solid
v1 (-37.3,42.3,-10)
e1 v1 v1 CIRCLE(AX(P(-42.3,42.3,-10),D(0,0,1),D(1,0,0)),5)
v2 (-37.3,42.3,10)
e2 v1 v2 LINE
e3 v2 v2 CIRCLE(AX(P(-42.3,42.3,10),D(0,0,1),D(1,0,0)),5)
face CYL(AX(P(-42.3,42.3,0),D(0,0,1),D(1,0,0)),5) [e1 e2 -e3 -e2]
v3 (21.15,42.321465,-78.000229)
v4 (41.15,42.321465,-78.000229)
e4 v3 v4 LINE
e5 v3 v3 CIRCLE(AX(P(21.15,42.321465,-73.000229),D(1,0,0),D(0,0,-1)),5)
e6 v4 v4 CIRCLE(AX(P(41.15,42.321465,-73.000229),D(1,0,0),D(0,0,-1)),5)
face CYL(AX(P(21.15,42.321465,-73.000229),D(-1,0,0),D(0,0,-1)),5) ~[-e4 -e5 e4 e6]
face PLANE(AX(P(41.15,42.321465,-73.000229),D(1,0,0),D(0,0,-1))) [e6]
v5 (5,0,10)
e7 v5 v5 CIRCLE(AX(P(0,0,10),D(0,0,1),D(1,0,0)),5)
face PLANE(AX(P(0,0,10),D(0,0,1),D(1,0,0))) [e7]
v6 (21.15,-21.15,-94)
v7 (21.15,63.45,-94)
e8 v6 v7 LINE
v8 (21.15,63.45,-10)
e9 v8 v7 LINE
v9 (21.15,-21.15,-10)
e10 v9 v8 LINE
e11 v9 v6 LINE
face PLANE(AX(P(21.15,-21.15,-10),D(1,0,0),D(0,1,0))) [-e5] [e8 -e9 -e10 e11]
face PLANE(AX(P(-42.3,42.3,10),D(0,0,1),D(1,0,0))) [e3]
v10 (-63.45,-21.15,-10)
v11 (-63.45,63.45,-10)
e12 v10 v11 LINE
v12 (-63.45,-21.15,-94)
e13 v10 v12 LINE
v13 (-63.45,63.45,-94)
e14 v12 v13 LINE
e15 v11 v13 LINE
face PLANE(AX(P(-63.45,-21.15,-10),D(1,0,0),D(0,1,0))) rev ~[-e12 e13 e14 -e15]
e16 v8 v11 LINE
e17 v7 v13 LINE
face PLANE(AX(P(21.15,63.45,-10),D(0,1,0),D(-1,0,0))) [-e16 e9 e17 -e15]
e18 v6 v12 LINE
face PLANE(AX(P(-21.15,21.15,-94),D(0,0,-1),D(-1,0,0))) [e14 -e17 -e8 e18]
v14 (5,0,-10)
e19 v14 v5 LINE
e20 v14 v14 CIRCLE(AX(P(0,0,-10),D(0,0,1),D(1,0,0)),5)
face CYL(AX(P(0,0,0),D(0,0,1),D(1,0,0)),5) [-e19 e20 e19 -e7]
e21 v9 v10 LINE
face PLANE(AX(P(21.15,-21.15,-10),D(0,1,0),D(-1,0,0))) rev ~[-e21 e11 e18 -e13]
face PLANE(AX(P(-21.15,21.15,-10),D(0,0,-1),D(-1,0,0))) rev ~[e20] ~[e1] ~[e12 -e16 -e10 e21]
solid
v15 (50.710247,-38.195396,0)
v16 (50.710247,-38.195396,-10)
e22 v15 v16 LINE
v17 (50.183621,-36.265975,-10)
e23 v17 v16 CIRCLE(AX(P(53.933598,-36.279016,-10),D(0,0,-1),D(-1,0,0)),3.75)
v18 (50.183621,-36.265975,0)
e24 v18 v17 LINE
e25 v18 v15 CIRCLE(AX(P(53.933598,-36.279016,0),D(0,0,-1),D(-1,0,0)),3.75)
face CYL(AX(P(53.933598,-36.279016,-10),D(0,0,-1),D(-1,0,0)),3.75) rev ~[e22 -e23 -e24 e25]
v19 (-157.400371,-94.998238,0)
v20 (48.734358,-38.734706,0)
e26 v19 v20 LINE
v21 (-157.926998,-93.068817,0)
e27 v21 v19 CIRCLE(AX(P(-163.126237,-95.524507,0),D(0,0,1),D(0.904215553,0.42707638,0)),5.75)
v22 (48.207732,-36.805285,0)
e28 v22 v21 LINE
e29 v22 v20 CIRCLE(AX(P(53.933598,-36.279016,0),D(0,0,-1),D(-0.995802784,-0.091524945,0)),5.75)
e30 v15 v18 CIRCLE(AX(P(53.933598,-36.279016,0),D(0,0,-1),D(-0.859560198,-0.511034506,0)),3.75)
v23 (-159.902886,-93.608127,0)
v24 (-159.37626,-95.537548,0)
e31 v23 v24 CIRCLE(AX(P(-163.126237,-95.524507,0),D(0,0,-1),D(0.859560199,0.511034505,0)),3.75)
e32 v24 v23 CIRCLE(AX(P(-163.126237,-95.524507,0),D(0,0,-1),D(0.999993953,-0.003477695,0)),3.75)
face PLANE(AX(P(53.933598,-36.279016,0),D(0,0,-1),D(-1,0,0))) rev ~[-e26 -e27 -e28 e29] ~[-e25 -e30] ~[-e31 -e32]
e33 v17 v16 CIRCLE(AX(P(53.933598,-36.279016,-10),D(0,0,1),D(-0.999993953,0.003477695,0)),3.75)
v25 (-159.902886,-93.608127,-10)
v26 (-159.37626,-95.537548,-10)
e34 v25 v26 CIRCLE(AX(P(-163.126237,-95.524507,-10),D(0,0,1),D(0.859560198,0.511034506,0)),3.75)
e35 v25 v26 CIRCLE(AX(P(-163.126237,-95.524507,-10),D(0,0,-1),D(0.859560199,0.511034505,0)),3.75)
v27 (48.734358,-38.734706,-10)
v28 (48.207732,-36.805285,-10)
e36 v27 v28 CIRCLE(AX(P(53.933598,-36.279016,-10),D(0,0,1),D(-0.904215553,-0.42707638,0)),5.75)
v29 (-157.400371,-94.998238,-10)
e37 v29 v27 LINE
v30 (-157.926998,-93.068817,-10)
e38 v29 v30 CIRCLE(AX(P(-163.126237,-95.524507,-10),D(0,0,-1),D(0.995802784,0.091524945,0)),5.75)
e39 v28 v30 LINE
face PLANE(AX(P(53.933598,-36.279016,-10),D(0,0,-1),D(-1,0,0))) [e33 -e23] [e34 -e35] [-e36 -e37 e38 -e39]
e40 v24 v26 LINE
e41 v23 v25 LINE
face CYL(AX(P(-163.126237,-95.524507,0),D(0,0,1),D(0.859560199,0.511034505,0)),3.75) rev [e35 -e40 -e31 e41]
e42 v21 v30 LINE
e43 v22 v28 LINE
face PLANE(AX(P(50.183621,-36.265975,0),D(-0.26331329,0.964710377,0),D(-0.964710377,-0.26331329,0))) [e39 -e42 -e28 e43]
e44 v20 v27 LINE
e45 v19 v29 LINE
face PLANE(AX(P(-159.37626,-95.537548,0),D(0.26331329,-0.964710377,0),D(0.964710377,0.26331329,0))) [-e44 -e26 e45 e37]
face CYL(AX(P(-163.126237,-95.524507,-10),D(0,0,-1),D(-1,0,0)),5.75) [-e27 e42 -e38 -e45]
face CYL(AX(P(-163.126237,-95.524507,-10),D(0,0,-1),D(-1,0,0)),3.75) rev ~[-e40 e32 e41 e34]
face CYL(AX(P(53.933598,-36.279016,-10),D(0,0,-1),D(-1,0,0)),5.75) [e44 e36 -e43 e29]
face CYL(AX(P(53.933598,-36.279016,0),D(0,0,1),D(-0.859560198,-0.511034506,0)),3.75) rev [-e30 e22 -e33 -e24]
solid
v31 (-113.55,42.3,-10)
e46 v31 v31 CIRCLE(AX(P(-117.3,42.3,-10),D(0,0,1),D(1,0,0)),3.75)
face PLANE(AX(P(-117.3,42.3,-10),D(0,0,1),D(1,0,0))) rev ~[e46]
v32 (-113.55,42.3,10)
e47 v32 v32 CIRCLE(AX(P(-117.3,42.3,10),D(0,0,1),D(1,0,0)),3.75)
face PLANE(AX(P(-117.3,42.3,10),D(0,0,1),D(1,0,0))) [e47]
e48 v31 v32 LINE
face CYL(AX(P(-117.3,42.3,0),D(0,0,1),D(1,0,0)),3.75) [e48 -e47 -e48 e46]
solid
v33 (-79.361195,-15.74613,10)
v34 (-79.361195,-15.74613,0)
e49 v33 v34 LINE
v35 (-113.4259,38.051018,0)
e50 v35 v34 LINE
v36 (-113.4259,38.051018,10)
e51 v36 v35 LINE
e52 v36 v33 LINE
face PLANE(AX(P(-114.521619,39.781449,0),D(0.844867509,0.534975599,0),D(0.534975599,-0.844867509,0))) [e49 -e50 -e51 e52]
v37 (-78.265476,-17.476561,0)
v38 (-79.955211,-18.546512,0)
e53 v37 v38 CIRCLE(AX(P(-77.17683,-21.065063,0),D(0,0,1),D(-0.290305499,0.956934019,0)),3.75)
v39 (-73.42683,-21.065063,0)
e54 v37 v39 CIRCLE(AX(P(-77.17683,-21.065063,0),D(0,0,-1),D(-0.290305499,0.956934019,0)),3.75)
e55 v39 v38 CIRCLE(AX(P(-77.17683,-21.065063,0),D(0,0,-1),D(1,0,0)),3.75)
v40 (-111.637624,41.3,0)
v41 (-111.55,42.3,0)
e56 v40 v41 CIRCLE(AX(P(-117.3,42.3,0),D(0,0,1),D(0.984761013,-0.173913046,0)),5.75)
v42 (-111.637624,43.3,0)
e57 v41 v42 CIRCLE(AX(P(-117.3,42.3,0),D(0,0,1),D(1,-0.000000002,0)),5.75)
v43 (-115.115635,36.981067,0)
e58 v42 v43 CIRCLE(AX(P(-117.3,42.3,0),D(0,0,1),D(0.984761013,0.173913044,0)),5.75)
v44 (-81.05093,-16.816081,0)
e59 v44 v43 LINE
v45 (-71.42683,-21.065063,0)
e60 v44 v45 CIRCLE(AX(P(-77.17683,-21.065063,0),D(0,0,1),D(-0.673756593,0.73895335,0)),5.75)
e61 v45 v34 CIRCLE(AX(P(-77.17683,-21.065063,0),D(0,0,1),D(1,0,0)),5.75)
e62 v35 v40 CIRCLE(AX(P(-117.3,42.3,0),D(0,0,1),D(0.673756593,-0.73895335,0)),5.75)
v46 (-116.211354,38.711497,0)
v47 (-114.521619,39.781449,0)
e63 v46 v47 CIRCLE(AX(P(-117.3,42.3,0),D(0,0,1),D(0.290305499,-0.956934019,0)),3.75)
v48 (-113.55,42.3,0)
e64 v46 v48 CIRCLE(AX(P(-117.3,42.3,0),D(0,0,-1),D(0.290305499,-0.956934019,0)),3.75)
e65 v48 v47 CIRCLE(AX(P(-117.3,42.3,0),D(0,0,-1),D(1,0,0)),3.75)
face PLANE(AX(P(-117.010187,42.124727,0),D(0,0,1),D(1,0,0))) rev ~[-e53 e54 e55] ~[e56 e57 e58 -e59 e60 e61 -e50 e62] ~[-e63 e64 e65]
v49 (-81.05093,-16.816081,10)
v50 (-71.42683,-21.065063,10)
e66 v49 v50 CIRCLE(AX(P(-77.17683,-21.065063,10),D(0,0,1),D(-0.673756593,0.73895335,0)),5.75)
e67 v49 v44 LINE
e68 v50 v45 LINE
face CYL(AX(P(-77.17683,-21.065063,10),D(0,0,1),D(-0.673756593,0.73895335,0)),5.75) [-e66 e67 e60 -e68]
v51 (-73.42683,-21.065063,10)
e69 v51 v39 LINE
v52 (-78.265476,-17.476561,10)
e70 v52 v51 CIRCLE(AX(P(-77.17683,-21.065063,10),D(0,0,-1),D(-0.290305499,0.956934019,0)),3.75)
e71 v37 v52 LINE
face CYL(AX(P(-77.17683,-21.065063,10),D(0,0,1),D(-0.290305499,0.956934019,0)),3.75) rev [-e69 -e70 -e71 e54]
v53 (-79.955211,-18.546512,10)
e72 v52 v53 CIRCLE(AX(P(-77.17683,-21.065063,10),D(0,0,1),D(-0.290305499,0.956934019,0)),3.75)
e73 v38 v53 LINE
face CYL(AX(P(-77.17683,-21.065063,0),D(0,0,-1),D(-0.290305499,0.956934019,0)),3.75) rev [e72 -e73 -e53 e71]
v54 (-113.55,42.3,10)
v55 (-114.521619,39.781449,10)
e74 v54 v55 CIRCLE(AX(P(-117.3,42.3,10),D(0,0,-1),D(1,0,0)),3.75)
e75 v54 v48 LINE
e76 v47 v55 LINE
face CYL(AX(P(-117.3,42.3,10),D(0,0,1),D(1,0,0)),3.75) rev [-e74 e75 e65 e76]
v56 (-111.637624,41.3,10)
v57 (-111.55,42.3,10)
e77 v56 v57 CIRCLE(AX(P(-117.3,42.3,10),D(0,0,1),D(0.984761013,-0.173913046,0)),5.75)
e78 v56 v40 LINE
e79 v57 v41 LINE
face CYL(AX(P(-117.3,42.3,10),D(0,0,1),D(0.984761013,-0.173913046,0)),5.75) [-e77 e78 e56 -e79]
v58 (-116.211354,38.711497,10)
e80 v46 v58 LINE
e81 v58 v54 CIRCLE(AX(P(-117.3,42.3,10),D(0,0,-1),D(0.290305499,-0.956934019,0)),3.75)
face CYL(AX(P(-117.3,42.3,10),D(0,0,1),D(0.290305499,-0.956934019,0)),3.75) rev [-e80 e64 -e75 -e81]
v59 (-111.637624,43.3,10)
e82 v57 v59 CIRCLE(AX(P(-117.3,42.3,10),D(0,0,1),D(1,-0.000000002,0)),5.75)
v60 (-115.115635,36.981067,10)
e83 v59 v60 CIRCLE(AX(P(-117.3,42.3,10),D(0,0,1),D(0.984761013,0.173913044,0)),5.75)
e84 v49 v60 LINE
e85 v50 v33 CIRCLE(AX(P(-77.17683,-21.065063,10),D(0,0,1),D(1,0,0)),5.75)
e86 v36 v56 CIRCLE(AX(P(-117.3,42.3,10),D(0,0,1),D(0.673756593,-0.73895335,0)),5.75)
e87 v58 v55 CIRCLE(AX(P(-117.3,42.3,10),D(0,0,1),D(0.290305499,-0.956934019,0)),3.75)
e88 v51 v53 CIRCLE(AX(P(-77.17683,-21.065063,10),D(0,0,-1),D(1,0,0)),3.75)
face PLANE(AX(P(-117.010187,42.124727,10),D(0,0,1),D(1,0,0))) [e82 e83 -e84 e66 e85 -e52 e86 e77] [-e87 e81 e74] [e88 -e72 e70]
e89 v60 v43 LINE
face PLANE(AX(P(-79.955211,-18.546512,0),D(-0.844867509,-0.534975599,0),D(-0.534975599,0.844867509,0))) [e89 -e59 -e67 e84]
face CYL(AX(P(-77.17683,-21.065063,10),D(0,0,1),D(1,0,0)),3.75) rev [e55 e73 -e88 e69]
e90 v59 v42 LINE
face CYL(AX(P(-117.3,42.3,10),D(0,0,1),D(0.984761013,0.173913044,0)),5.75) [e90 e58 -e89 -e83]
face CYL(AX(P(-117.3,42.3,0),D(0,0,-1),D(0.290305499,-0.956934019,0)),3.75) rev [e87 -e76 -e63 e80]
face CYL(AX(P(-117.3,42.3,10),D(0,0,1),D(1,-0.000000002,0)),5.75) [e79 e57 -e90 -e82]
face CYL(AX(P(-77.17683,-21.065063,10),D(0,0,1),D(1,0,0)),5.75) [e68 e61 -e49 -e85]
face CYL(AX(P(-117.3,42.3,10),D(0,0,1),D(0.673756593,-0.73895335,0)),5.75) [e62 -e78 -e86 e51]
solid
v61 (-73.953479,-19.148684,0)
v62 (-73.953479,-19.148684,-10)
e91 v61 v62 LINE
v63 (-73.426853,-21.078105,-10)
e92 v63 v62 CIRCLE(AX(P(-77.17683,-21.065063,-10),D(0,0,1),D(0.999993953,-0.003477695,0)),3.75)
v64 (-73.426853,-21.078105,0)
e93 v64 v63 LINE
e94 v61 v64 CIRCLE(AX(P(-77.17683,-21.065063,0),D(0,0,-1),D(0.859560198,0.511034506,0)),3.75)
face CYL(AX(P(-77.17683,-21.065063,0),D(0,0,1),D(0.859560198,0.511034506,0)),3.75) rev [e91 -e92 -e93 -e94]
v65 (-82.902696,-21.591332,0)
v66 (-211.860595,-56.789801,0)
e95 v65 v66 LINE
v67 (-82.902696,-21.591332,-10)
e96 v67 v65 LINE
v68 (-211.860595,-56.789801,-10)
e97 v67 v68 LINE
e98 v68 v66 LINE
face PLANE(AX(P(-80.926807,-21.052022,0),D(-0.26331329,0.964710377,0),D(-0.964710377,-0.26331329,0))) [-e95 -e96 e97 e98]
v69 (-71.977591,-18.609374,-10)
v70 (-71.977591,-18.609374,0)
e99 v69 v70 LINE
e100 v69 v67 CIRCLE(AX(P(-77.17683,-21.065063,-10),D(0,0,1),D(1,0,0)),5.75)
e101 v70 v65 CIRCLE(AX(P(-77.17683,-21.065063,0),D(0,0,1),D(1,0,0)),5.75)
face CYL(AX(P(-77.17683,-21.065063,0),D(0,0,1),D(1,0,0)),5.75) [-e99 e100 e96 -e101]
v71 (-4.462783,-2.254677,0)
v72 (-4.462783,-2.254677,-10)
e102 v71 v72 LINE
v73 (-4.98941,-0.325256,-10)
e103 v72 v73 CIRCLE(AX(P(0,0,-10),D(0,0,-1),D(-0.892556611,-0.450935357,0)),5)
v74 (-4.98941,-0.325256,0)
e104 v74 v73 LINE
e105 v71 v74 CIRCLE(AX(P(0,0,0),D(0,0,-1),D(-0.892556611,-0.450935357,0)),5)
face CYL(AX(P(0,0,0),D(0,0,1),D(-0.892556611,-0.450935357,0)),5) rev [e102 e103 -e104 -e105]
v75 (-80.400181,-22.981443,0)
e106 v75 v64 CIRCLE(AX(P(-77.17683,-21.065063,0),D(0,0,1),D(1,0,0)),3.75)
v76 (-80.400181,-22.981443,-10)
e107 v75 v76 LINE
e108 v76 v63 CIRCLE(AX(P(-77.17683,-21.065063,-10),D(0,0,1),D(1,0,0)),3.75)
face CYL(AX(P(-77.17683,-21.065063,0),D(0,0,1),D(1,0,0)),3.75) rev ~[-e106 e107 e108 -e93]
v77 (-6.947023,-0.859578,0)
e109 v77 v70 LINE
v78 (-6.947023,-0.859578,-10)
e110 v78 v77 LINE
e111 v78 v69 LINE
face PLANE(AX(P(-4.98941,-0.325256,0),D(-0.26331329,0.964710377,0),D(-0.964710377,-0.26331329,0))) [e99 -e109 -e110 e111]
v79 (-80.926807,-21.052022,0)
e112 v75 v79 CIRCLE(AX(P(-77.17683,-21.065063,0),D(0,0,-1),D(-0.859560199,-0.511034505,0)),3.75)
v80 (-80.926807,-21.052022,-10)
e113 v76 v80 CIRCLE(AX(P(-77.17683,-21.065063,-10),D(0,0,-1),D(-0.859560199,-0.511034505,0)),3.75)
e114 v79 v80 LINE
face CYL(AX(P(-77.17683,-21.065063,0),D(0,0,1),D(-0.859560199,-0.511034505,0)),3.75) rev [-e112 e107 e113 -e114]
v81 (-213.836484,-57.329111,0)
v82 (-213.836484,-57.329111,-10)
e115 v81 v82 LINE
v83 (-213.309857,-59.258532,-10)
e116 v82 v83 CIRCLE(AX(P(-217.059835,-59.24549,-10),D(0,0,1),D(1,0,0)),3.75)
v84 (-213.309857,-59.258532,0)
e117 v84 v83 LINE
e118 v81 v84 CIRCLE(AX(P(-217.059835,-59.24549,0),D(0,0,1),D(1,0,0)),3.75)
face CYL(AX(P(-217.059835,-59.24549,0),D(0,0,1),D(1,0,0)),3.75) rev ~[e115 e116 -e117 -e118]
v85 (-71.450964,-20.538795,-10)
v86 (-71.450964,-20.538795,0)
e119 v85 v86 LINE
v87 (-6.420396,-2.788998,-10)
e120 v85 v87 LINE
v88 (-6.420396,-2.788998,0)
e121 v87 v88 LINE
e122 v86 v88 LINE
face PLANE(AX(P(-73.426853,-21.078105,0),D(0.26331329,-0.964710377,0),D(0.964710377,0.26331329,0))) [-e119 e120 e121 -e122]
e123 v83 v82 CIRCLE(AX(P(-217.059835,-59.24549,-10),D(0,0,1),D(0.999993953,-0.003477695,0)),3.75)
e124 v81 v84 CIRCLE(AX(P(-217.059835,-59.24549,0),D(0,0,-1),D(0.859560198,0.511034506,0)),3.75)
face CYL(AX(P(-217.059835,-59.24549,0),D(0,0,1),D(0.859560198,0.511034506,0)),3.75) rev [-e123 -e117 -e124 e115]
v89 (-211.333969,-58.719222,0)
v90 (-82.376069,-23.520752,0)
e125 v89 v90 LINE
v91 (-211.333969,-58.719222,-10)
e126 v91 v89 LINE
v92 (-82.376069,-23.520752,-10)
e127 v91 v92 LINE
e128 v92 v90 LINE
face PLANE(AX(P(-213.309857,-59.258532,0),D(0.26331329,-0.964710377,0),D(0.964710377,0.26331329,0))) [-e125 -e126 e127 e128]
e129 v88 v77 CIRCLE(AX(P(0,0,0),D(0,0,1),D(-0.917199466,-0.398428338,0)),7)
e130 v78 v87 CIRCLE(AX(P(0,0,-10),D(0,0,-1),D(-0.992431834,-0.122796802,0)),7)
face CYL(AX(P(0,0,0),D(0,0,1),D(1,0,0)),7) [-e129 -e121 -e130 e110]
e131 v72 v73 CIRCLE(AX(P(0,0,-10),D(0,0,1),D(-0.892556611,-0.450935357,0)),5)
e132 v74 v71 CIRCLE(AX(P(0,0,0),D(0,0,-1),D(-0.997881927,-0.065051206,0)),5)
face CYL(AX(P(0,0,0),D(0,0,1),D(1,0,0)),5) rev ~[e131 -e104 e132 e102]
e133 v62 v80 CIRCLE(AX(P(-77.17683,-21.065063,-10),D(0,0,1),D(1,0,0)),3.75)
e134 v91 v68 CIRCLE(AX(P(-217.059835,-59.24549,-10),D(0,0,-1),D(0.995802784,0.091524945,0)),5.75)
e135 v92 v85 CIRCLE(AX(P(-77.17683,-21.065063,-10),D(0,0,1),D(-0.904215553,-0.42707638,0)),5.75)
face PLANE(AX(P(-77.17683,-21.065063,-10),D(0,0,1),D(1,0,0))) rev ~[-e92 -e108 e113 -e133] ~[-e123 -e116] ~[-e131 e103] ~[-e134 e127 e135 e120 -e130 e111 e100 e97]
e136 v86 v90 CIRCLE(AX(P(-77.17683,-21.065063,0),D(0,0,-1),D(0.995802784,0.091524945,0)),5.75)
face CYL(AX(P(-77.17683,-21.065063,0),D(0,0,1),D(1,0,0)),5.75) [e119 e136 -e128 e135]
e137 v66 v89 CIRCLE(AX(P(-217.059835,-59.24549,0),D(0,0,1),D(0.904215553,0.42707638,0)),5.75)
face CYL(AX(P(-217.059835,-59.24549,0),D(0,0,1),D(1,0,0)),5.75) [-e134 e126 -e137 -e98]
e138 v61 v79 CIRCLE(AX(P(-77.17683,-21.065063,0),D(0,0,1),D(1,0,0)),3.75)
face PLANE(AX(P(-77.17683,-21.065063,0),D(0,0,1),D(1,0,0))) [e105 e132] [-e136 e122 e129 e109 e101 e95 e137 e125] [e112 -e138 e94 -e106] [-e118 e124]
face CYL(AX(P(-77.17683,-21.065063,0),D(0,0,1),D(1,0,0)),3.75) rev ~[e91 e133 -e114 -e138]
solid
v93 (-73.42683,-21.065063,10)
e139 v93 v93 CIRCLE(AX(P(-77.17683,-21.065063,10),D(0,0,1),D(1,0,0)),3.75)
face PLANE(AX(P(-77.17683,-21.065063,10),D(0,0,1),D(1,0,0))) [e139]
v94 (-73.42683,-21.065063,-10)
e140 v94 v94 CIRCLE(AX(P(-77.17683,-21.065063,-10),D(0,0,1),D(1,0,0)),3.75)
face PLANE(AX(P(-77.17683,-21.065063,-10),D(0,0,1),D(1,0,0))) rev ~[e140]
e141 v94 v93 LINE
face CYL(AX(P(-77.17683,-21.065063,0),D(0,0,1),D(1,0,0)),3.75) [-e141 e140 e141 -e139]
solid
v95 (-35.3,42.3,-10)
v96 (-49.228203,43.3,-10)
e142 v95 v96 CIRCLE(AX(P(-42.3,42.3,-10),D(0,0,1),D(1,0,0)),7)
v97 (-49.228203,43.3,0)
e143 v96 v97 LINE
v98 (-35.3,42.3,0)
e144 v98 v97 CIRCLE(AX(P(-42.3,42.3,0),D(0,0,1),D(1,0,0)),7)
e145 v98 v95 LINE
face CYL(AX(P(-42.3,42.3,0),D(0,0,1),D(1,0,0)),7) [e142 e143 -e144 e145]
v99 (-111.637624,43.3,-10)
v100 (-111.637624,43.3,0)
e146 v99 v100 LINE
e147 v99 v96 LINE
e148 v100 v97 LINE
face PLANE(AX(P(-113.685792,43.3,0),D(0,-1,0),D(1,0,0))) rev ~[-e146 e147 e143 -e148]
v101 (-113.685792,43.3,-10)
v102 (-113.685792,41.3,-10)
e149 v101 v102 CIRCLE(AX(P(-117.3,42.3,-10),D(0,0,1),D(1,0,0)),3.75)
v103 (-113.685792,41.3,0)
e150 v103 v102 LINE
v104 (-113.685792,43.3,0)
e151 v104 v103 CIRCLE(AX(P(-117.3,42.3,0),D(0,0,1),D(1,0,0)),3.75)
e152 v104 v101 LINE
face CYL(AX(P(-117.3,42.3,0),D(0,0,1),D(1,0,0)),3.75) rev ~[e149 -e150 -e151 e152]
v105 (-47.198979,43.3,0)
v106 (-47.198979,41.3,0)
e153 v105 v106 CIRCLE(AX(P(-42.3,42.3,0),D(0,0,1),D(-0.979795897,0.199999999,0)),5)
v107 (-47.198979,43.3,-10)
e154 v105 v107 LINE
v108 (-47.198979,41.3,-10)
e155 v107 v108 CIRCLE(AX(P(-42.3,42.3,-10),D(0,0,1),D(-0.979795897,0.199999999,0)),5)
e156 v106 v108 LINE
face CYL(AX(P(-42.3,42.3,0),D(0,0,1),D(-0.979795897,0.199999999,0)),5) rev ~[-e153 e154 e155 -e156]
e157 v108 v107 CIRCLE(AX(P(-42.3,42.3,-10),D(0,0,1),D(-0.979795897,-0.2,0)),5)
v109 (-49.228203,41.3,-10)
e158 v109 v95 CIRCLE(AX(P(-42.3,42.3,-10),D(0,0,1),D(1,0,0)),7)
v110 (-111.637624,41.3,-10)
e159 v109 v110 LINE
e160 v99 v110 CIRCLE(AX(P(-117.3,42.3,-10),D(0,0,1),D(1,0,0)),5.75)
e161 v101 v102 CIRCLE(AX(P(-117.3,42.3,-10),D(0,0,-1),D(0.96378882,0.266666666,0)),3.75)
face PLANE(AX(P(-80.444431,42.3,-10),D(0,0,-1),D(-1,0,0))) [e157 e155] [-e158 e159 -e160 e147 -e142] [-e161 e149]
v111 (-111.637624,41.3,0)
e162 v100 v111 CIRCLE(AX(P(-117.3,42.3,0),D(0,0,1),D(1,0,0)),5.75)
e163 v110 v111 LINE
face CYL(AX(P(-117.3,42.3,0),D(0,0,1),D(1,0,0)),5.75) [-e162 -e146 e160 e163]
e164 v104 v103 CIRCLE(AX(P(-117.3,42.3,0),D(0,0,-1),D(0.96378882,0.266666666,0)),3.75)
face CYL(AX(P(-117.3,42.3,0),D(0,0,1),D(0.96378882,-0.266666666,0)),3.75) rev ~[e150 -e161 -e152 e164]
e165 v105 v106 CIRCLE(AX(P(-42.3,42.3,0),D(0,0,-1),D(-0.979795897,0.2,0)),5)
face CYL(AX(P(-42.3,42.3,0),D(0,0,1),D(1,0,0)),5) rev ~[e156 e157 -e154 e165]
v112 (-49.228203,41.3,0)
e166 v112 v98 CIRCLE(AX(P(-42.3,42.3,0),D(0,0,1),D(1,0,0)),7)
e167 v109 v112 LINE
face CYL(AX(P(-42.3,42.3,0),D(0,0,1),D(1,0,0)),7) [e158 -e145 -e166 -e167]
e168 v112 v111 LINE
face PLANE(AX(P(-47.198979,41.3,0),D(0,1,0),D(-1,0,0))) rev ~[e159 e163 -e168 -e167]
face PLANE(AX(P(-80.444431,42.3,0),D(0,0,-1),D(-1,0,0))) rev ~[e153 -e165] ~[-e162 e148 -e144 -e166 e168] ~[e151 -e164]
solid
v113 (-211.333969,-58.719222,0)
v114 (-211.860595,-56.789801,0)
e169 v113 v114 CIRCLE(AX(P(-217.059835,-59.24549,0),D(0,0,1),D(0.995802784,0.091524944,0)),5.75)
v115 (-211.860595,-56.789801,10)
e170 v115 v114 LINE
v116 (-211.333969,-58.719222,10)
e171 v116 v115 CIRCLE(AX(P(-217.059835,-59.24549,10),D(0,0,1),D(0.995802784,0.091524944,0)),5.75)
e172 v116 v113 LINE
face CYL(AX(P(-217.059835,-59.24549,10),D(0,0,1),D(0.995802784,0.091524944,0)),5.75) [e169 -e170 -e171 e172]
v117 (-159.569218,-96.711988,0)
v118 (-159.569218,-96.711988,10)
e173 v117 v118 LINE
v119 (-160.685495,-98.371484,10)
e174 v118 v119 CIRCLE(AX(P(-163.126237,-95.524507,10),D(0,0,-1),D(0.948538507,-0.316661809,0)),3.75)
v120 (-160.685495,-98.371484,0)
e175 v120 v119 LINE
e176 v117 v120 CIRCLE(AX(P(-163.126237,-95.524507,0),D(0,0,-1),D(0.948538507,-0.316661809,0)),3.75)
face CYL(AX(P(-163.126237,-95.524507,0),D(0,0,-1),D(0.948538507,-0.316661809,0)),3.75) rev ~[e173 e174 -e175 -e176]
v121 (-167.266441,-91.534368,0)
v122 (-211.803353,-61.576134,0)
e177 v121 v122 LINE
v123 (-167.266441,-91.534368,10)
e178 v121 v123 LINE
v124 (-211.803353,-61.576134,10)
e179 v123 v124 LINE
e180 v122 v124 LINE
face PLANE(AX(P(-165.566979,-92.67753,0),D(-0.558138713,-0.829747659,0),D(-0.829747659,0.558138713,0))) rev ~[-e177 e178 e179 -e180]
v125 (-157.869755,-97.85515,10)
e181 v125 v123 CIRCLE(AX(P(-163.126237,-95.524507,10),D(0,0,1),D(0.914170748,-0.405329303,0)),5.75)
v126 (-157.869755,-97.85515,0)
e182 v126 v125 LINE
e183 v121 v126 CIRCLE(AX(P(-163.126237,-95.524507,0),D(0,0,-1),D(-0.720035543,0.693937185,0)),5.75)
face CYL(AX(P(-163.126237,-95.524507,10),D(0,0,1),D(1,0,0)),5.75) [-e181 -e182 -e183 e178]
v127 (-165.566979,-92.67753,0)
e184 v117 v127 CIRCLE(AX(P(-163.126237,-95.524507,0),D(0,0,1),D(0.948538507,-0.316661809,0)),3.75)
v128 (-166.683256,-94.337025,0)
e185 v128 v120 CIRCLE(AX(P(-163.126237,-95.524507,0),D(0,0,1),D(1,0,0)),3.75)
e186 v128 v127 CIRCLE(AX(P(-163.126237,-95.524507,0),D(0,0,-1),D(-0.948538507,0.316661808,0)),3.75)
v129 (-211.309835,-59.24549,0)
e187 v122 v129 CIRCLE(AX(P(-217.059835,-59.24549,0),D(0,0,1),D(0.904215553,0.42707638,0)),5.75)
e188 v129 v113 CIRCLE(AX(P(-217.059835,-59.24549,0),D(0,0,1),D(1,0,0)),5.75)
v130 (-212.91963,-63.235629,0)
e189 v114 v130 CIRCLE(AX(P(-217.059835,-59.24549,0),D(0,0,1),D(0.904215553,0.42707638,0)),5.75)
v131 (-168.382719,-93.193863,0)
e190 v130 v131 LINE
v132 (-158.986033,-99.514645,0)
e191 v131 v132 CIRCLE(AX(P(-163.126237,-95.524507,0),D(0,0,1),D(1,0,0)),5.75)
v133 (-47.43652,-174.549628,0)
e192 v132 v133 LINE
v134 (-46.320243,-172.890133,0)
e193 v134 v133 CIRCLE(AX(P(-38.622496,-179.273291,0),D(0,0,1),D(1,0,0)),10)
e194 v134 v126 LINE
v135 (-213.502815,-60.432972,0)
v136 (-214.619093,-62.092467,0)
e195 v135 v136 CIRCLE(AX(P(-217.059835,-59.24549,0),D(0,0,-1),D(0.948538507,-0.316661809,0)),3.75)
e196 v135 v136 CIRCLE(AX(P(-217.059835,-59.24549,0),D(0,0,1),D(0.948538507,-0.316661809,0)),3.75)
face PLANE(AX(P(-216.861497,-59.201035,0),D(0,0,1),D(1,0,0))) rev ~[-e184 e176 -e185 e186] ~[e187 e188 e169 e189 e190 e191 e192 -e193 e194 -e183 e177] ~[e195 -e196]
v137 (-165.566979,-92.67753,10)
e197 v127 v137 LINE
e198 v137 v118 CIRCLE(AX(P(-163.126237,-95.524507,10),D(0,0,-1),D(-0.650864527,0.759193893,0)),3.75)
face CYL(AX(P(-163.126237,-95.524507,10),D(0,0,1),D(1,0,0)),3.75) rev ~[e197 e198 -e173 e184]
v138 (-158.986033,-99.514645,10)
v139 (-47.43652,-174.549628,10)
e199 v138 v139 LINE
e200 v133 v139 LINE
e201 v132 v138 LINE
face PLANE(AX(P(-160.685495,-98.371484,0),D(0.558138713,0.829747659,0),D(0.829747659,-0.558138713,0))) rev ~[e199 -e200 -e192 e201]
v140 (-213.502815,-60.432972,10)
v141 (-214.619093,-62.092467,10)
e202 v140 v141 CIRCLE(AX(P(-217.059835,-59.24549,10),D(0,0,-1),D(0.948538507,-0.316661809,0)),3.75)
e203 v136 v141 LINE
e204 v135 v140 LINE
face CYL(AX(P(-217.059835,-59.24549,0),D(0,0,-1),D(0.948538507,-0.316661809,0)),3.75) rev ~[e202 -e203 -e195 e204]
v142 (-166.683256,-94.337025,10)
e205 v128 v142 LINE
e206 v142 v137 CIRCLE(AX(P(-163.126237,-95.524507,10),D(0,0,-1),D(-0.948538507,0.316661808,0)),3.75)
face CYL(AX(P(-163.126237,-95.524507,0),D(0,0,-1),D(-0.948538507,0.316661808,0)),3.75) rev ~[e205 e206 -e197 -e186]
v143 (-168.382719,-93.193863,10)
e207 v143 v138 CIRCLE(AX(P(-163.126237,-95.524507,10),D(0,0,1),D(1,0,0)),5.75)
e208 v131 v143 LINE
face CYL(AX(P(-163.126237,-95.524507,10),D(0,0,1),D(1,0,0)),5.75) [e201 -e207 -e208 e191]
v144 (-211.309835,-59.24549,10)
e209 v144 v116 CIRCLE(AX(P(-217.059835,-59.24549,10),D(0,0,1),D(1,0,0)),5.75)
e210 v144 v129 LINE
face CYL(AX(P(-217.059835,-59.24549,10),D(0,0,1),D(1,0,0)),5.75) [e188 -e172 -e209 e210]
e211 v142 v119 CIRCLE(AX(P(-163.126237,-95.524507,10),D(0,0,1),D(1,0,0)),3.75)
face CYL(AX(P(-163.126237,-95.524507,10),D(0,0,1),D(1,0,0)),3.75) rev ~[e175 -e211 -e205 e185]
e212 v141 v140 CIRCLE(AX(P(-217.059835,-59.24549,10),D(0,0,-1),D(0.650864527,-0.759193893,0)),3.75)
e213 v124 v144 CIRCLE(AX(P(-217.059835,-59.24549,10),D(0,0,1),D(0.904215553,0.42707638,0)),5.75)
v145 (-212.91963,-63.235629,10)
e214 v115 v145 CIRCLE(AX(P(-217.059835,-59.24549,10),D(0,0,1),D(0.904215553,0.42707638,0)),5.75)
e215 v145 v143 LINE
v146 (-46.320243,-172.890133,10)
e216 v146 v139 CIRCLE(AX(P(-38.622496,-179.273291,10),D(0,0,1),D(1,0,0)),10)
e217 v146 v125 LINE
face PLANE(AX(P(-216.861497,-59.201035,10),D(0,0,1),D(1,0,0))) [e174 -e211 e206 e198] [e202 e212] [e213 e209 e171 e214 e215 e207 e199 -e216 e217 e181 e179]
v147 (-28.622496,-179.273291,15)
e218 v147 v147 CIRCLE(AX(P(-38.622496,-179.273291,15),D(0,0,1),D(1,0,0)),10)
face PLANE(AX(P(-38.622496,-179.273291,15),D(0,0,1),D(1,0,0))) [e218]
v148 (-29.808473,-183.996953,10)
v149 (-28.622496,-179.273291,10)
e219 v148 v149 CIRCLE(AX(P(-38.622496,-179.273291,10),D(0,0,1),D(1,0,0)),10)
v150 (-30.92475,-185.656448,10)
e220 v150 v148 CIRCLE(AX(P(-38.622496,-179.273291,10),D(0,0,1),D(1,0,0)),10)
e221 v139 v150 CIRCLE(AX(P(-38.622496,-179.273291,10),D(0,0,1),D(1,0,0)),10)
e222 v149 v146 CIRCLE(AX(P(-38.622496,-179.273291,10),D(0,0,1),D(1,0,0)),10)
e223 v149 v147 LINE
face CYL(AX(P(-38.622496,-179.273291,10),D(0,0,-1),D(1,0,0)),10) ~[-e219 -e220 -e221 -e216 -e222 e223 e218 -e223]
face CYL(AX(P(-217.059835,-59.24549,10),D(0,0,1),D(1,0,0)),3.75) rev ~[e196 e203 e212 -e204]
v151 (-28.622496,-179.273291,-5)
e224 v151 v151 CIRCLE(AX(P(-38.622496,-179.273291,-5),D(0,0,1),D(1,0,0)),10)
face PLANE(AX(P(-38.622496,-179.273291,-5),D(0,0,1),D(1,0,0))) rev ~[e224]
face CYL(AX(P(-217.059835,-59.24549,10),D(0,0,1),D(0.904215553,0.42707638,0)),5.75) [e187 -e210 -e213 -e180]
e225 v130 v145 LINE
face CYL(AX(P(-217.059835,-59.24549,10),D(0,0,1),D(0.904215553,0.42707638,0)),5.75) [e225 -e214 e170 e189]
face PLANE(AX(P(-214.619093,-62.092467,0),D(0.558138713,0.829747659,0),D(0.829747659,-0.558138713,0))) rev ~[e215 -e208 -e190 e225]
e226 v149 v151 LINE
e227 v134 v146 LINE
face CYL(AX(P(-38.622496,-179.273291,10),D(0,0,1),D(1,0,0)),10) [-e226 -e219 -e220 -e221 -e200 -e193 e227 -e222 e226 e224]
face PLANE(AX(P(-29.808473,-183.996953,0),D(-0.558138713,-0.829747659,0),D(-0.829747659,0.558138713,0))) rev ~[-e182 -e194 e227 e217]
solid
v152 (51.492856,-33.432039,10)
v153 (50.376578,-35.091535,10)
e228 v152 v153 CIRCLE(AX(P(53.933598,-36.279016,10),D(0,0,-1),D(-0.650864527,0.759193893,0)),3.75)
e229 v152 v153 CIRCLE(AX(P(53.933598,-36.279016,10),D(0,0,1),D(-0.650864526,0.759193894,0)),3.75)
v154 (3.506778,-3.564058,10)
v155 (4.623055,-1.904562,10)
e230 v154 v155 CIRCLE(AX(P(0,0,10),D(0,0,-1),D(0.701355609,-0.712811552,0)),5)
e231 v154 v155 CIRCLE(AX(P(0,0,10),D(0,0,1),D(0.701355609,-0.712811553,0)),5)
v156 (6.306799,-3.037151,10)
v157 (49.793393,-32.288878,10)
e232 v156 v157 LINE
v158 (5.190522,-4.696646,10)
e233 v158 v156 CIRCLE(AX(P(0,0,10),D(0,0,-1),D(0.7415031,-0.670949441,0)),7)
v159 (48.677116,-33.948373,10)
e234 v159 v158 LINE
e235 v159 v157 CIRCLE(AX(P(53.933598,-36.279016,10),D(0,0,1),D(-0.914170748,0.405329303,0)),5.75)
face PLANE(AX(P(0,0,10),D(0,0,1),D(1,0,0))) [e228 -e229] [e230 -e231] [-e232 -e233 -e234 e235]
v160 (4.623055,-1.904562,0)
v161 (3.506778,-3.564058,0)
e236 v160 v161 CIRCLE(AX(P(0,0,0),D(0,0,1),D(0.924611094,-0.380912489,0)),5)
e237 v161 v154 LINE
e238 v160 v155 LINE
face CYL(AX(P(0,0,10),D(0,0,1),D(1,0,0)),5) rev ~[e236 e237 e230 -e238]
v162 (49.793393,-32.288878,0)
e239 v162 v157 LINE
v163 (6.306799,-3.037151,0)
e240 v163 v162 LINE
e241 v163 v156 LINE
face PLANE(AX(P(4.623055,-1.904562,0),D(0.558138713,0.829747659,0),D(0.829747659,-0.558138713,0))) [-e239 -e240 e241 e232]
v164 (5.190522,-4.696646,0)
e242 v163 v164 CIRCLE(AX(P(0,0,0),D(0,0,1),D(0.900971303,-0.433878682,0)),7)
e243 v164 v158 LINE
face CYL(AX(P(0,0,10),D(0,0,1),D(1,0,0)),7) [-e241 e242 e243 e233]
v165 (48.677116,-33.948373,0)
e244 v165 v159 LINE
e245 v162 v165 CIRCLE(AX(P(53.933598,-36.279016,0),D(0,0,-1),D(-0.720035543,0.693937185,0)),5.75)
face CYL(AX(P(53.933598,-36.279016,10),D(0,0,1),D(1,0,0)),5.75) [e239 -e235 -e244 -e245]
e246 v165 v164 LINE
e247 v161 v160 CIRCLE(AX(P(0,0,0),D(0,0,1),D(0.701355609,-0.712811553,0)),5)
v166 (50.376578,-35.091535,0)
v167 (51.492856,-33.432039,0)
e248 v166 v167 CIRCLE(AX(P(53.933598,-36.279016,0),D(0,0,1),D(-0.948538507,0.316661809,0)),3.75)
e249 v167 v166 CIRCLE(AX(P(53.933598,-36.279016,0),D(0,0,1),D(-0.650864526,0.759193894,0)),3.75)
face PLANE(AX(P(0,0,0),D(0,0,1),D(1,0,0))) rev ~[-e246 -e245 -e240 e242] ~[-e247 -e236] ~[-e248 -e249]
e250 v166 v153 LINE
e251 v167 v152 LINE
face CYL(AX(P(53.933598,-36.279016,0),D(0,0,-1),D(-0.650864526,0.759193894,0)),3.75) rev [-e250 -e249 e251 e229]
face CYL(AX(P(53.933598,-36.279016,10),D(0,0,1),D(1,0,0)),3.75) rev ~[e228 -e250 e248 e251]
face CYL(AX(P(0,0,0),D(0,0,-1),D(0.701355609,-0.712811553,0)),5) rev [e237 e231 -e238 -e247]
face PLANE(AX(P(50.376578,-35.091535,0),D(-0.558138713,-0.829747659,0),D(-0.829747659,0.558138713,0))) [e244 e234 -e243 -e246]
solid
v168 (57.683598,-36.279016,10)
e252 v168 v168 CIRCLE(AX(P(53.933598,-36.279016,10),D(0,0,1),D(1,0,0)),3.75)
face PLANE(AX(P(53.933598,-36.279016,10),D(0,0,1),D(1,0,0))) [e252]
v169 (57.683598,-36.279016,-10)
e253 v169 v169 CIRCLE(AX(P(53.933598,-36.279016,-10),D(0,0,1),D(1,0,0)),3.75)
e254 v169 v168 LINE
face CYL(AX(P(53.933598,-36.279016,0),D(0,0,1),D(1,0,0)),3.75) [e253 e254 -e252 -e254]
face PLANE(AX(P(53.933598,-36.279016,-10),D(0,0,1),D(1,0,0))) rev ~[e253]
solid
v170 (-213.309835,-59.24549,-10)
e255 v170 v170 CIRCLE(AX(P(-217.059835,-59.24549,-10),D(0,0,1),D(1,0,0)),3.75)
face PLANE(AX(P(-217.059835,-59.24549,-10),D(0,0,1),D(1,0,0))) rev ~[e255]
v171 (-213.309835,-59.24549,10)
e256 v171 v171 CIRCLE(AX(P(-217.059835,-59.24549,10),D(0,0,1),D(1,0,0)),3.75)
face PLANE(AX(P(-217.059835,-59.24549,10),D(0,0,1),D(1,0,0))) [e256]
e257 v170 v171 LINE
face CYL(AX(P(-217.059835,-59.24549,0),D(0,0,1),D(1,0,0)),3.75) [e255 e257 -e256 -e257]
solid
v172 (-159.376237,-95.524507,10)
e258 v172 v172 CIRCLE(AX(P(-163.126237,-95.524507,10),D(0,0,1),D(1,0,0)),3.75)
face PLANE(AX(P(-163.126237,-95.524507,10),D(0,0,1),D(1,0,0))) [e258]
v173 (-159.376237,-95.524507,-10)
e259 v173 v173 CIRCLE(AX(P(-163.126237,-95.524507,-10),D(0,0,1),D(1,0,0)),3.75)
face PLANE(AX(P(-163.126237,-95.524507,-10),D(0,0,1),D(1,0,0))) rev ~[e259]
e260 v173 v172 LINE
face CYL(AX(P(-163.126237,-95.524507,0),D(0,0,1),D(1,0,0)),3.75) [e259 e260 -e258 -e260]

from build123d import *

# Parameters (mm, degrees)
SKETCH1_R                  = 5
BOSS_EXTRUDE1_DEPTH        = 10
BOSS_EXTRUDE1_DEPTH_BACK   = 10
BOSS_EXTRUDE1_2_DEPTH      = 10
BOSS_EXTRUDE1_2_DEPTH_BACK = 10
SKETCH1_R_2                = 3.75
BOSS_EXTRUDE1_3_DEPTH      = 10
BOSS_EXTRUDE1_3_DEPTH_BACK = 10
BOSS_EXTRUDE1_4_DEPTH      = 10
BOSS_EXTRUDE1_4_DEPTH_BACK = 10
BOSS_EXTRUDE1_5_DEPTH      = 10
BOSS_EXTRUDE1_5_DEPTH_BACK = 10
BOSS_EXTRUDE1_6_DEPTH      = 10
BOSS_EXTRUDE1_6_DEPTH_BACK = 10
BOSS_EXTRUDE1_7_DEPTH      = 10
BOSS_EXTRUDE1_7_DEPTH_BACK = 10
BOSS_EXTRUDE2_DEPTH        = 10
BOSS_EXTRUDE2_2_DEPTH      = 10
BOSS_EXTRUDE2_3_DEPTH      = 10
BOSS_EXTRUDE2_4_DEPTH      = 10
BOSS_EXTRUDE3_DEPTH        = 10
BOSS_EXTRUDE3_2_DEPTH      = 10
BOSS_EXTRUDE3_3_DEPTH      = 10
BOSS_EXTRUDE3_4_DEPTH      = 10
SKETCH5_W                  = 84.6
SKETCH5_H                  = 84.6
BOSS_EXTRUDE4_DEPTH        = 84
SKETCH6_R                  = 5
BOSS_EXTRUDE5_DEPTH        = 20
SKETCH7_R                  = 5.75
SKETCH7_R_2                = 3.75
SKETCH7_R_3                = 7
SKETCH7_R_4                = 5
BOSS_EXTRUDE6_DEPTH        = 10
BOSS_EXTRUDE7_DEPTH        = 10
SKETCH9_R                  = 5.75
SKETCH9_R_2                = 3.75
SKETCH9_R_3                = 7
SKETCH9_R_4                = 5
BOSS_EXTRUDE8_DEPTH        = 10
SKETCH10_R                 = 3.75
SKETCH10_R_2               = 5.75
BOSS_EXTRUDE9_DEPTH        = 10
SKETCH12_R                 = 7
SKETCH12_R_2               = 5
SKETCH12_R_3               = 5.75
SKETCH12_R_4               = 3.75
BOSS_EXTRUDE10_DEPTH       = 10
SKETCH13_R                 = 5.75
SKETCH13_R_2               = 3.75
BOSS_EXTRUDE11_DEPTH       = 10
SKETCH14_R                 = 10
BOSS_EXTRUDE12_DEPTH       = 5
BOSS_EXTRUDE12_DEPTH_BACK  = 15


with BuildPart() as part:
    # Sketch1 → Boss-Extrude1 (new body, two sides)
    with BuildSketch(Plane.XY) as boss_extrude1_sk:
        Circle(SKETCH1_R)
    extrude(amount=BOSS_EXTRUDE1_DEPTH)
    extrude(boss_extrude1_sk.sketch, amount=-BOSS_EXTRUDE1_DEPTH_BACK)


with BuildPart() as body_2:
    # Sketch1 → Boss-Extrude1 2 (new body, two sides)
    with BuildSketch(Plane.XY) as boss_extrude1_2_sk:
        with Locations((-42.3, 42.3)):
            Circle(SKETCH1_R)
    extrude(amount=BOSS_EXTRUDE1_2_DEPTH)
    extrude(boss_extrude1_2_sk.sketch, amount=-BOSS_EXTRUDE1_2_DEPTH_BACK)


    add(part.part)  # Boss-Extrude4 merges part
    # Sketch5 → Boss-Extrude4 (add)
    with BuildSketch(Plane(origin=(0, 0, -10), x_dir=(-1, 0, 0), z_dir=(0, 0, -1))):
        with Locations((21.15, 21.15)):
            Rectangle(SKETCH5_W, SKETCH5_H)
    extrude(amount=BOSS_EXTRUDE4_DEPTH)

    # Sketch6 → Boss-Extrude5 (add)
    with BuildSketch(Plane(origin=(21.15, 0, 0), x_dir=(0, 0, -1), z_dir=(1, 0, 0))):
        with Locations((73.000229017, 42.321464623)):
            Circle(SKETCH6_R)
    extrude(amount=BOSS_EXTRUDE5_DEPTH)


with BuildPart() as body_3:
    # Sketch1 → Boss-Extrude1 3 (new body, two sides)
    with BuildSketch(Plane.XY) as boss_extrude1_3_sk:
        with Locations((-117.3, 42.3)):
            Circle(SKETCH1_R_2)
    extrude(amount=BOSS_EXTRUDE1_3_DEPTH)
    extrude(boss_extrude1_3_sk.sketch, amount=-BOSS_EXTRUDE1_3_DEPTH_BACK)


with BuildPart() as body_4:
    # Sketch1 → Boss-Extrude1 4 (new body, two sides)
    with BuildSketch(Plane.XY) as boss_extrude1_4_sk:
        with Locations((53.933597832, -36.279016316)):
            Circle(SKETCH1_R_2)
    extrude(amount=BOSS_EXTRUDE1_4_DEPTH)
    extrude(boss_extrude1_4_sk.sketch, amount=-BOSS_EXTRUDE1_4_DEPTH_BACK)


with BuildPart() as body_5:
    # Sketch1 → Boss-Extrude1 5 (new body, two sides)
    with BuildSketch(Plane.XY) as boss_extrude1_5_sk:
        with Locations((-77.176830051, -21.065063191)):
            Circle(SKETCH1_R_2)
    extrude(amount=BOSS_EXTRUDE1_5_DEPTH)
    extrude(boss_extrude1_5_sk.sketch, amount=-BOSS_EXTRUDE1_5_DEPTH_BACK)


with BuildPart() as body_6:
    # Sketch1 → Boss-Extrude1 6 (new body, two sides)
    with BuildSketch(Plane.XY) as boss_extrude1_6_sk:
        with Locations((-163.126236958, -95.524506616)):
            Circle(SKETCH1_R_2)
    extrude(amount=BOSS_EXTRUDE1_6_DEPTH)
    extrude(boss_extrude1_6_sk.sketch, amount=-BOSS_EXTRUDE1_6_DEPTH_BACK)


with BuildPart() as body_7:
    # Sketch1 → Boss-Extrude1 7 (new body, two sides)
    with BuildSketch(Plane.XY) as boss_extrude1_7_sk:
        with Locations((-217.05983479, -59.2454903)):
            Circle(SKETCH1_R_2)
    extrude(amount=BOSS_EXTRUDE1_7_DEPTH)
    extrude(boss_extrude1_7_sk.sketch, amount=-BOSS_EXTRUDE1_7_DEPTH_BACK)


with BuildPart() as body_8:
    # Sketch2 → Boss-Extrude2 (new body)
    with BuildSketch(Plane.XY):
        with BuildLine():
            Line((-79.955210691, -18.546511818), (-116.211354379, 38.711497428))
            ThreePointArc((-116.211354379, 38.711497428), (-115.293841503, 39.13174684), (-114.52161936, 39.781448626))
            Line((-114.52161936, 39.781448626), (-78.265475672, -17.476560619))
            ThreePointArc((-78.265475672, -17.476560619), (-79.182988549, -17.896810032), (-79.955210691, -18.546511818))
        make_face()
    extrude(amount=BOSS_EXTRUDE2_DEPTH)

    # Sketch8 → Boss-Extrude7 (add)
    with BuildSketch(Plane.XY.offset(10)):
        with BuildLine():
            ThreePointArc((-116.211354379, 38.711497428), (-120.312052546, 44.533839623), (-113.55, 42.3))
            ThreePointArc((-113.55, 42.3), (-113.801326866, 40.950264359), (-114.52161936, 39.781448626))
            Line((-114.52161936, 39.781448626), (-113.425899589, 38.051018239))
            ThreePointArc((-113.425899589, 38.051018239), (-112.262633091, 39.527377663), (-111.637624174, 41.3))
            ThreePointArc((-111.637624174, 41.3), (-111.571947931, 41.798084171), (-111.55, 42.3))
            ThreePointArc((-111.55, 42.3), (-111.571947931, 42.801915829), (-111.637624174, 43.3))
            ThreePointArc((-111.637624174, 43.3), (-122.337366909, 45.072622337), (-115.115634608, 36.98106704))
            Line((-115.115634608, 36.98106704), (-116.211354379, 38.711497428))
        make_face()
        with BuildLine():
            ThreePointArc((-114.52161936, 39.781448626), (-115.293841503, 39.13174684), (-116.211354379, 38.711497428))
            Line((-116.211354379, 38.711497428), (-115.115634608, 36.98106704))
            ThreePointArc((-115.115634608, 36.98106704), (-114.223890304, 37.442011822), (-113.425899589, 38.051018239))
            Line((-113.425899589, 38.051018239), (-114.52161936, 39.781448626))
        make_face()
        with BuildLine():
            Line((-79.955210691, -18.546511818), (-81.050930462, -16.81608143))
            ThreePointArc((-81.050930462, -16.81608143), (-79.499158908, -26.32522371), (-71.426830051, -21.065063191))
            ThreePointArc((-71.426830051, -21.065063191), (-73.975080608, -16.288945469), (-79.361195443, -15.746130231))
            Line((-79.361195443, -15.746130231), (-78.265475672, -17.476560619))
            ThreePointArc((-78.265475672, -17.476560619), (-74.942990428, -18.053010645), (-73.426830051, -21.065063191))
            ThreePointArc((-73.426830051, -21.065063191), (-78.526565692, -24.563736326), (-79.955210691, -18.546511818))
        make_face()
        with BuildLine():
            ThreePointArc((-79.361195443, -15.746130231), (-80.252939747, -16.207075013), (-81.050930462, -16.81608143))
            Line((-81.050930462, -16.81608143), (-79.955210691, -18.546511818))
            ThreePointArc((-79.955210691, -18.546511818), (-79.182988549, -17.896810032), (-78.265475672, -17.476560619))
            Line((-78.265475672, -17.476560619), (-79.361195443, -15.746130231))
        make_face()
    extrude(amount=-BOSS_EXTRUDE7_DEPTH)


with BuildPart() as body_9:
    # Sketch2 → Boss-Extrude2 2 (new body)
    with BuildSketch(Plane.XY):
        with BuildLine():
            Line((-30.924750237, -185.656448284), (-29.808472812, -183.996952966))
            Line((-29.808472812, -183.996952966), (-159.569217557, -96.711988398))
            ThreePointArc((-159.569217557, -96.711988398), (-160.014683237, -97.617526788), (-160.685494982, -98.371483716))
            Line((-160.685494982, -98.371483716), (-30.924750237, -185.656448284))
        make_face()
    extrude(amount=BOSS_EXTRUDE2_2_DEPTH)


with BuildPart() as body_10:
    # Sketch2 → Boss-Extrude2 3 (new body)
    with BuildSketch(Plane.XY):
        with BuildLine():
            Line((4.623055472, -1.904562444), (51.492855857, -33.432039216))
            ThreePointArc((51.492855857, -33.432039216), (50.822044111, -34.185996144), (50.376578432, -35.091534534))
            Line((50.376578432, -35.091534534), (3.506778047, -3.564057762))
            ThreePointArc((3.506778047, -3.564057762), (4.148738295, -2.790693563), (4.623055472, -1.904562444))
        make_face()
    extrude(amount=BOSS_EXTRUDE2_3_DEPTH)

    # Sketch12 → Boss-Extrude10 (add)
    with BuildSketch(Plane.XY.offset(10)):
        Circle(SKETCH12_R)
        Circle(SKETCH12_R_2, mode=Mode.SUBTRACT)
        with Locations((53.933597832, -36.279016316)):
            Circle(SKETCH12_R_3)
        with Locations((53.933597832, -36.279016316)):
            Circle(SKETCH12_R_4, mode=Mode.SUBTRACT)
    extrude(amount=-BOSS_EXTRUDE10_DEPTH)


with BuildPart() as body_11:
    # Sketch2 → Boss-Extrude2 4 (new body)
    with BuildSketch(Plane.XY):
        with BuildLine():
            Line((-214.619092815, -62.0924674), (-166.683256358, -94.337024834))
            ThreePointArc((-166.683256358, -94.337024834), (-166.237790679, -93.431486444), (-165.566978933, -92.677529516))
            Line((-165.566978933, -92.677529516), (-213.502815389, -60.432972082))
            ThreePointArc((-213.502815389, -60.432972082), (-213.948281069, -61.338510472), (-214.619092815, -62.0924674))
        make_face()
    extrude(amount=BOSS_EXTRUDE2_4_DEPTH)


    add(body_9.part)  # Boss-Extrude9 merges body 9
    # Sketch10 → Boss-Extrude9 (add)
    with BuildSketch(Plane.XY.offset(10)):
        with BuildLine():
            ThreePointArc((-211.333968783, -58.719221867), (-211.512750123, -57.731438881), (-211.860595363, -56.789801114))
            ThreePointArc((-211.860595363, -56.789801114), (-222.670455376, -60.503837091), (-211.30983479, -59.2454903))
            ThreePointArc((-211.30983479, -59.2454903), (-211.315871457, -58.982079541), (-211.333968783, -58.719221867))
        make_face()
        with Locations((-217.05983479, -59.2454903)):
            Circle(SKETCH10_R, mode=Mode.SUBTRACT)
        with Locations((-163.126236958, -95.524506616)):
            Circle(SKETCH10_R_2)
        with Locations((-163.126236958, -95.524506616)):
            Circle(SKETCH10_R, mode=Mode.SUBTRACT)
    extrude(amount=-BOSS_EXTRUDE9_DEPTH)

    # Sketch14 → Boss-Extrude12 (add, two sides)
    with BuildSketch(Plane.XY.offset(10)) as boss_extrude12_sk:
        with Locations((-38.622496491, -179.273290553)):
            Circle(SKETCH14_R)
    extrude(amount=BOSS_EXTRUDE12_DEPTH)
    extrude(boss_extrude12_sk.sketch, amount=-BOSS_EXTRUDE12_DEPTH_BACK)


with BuildPart() as body_12:
    # Sketch4 → Boss-Extrude3 (new body)
    with BuildSketch(Plane.XY):
        with BuildLine():
            ThreePointArc((-47.198979486, 43.3), (-47.3, 42.3), (-47.198979486, 41.3))
            Line((-47.198979486, 41.3), (-113.685791926, 41.3))
            ThreePointArc((-113.685791926, 41.3), (-113.55, 42.3), (-113.685791926, 43.3))
            Line((-113.685791926, 43.3), (-47.198979486, 43.3))
        make_face()
    extrude(amount=-BOSS_EXTRUDE3_DEPTH)

    # Sketch7 → Boss-Extrude6 (add)
    with BuildSketch(Plane.XY):
        with Locations((-117.3, 42.3)):
            Circle(SKETCH7_R)
        with Locations((-117.3, 42.3)):
            Circle(SKETCH7_R_2, mode=Mode.SUBTRACT)
        with Locations((-42.3, 42.3)):
            Circle(SKETCH7_R_3)
        with Locations((-42.3, 42.3)):
            Circle(SKETCH7_R_4, mode=Mode.SUBTRACT)
    extrude(amount=-BOSS_EXTRUDE6_DEPTH)


with BuildPart() as body_13:
    # Sketch4 → Boss-Extrude3 2 (new body)
    with BuildSketch(Plane.XY):
        with BuildLine():
            Line((-80.926807374, -21.052021834), (-213.836484048, -57.329110904))
            ThreePointArc((-213.836484048, -57.329110904), (-213.442170877, -58.258065462), (-213.309857467, -59.258531657))
            Line((-213.309857467, -59.258531657), (-80.400180794, -22.981442588))
            ThreePointArc((-80.400180794, -22.981442588), (-80.794493964, -22.05248803), (-80.926807374, -21.052021834))
        make_face()
    extrude(amount=-BOSS_EXTRUDE3_2_DEPTH)


with BuildPart() as body_14:
    # Sketch4 → Boss-Extrude3 3 (new body)
    with BuildSketch(Plane.XY):
        with BuildLine():
            Line((-4.989409636, -0.32525603), (-73.953479309, -19.148683795))
            ThreePointArc((-73.953479309, -19.148683795), (-73.559166138, -20.077638353), (-73.426852728, -21.078104549))
            Line((-73.426852728, -21.078104549), (-4.462783055, -2.254676784))
            ThreePointArc((-4.462783055, -2.254676784), (-4.823551884, -1.316566451), (-4.989409636, -0.32525603))
        make_face()
    extrude(amount=-BOSS_EXTRUDE3_3_DEPTH)


    add(body_13.part)  # Boss-Extrude8 merges body 13
    # Sketch9 → Boss-Extrude8 (add)
    with BuildSketch(Plane.XY):
        with Locations((-77.176830051, -21.065063191)):
            Circle(SKETCH9_R)
        with Locations((-77.176830051, -21.065063191)):
            Circle(SKETCH9_R_2, mode=Mode.SUBTRACT)
        Circle(SKETCH9_R_3)
        Circle(SKETCH9_R_4, mode=Mode.SUBTRACT)
        with Locations((-217.05983479, -59.2454903)):
            Circle(SKETCH9_R)
        with Locations((-217.05983479, -59.2454903)):
            Circle(SKETCH9_R_2, mode=Mode.SUBTRACT)
    extrude(amount=-BOSS_EXTRUDE8_DEPTH)


with BuildPart() as body_15:
    # Sketch4 → Boss-Extrude3 4 (new body)
    with BuildSketch(Plane.XY):
        with BuildLine():
            Line((-159.376259635, -95.537547973), (50.71024709, -38.195395712))
            ThreePointArc((50.71024709, -38.195395712), (50.315933919, -37.266441154), (50.183620509, -36.265974959))
            Line((50.183620509, -36.265974959), (-159.902886215, -93.60812722))
            ThreePointArc((-159.902886215, -93.60812722), (-159.508573045, -94.537081778), (-159.376259635, -95.537547973))
        make_face()
    extrude(amount=-BOSS_EXTRUDE3_4_DEPTH)

    # Sketch13 → Boss-Extrude11 (add)
    with BuildSketch(Plane(origin=(0, 0, -10), x_dir=(-1, 0, 0), z_dir=(0, 0, -1))):
        with Locations((-53.933597832, -36.279016316)):
            Circle(SKETCH13_R)
        with Locations((-53.933597832, -36.279016316)):
            Circle(SKETCH13_R_2, mode=Mode.SUBTRACT)
        with Locations((163.126236958, -95.524506616)):
            Circle(SKETCH13_R)
        with Locations((163.126236958, -95.524506616)):
            Circle(SKETCH13_R_2, mode=Mode.SUBTRACT)
    extrude(amount=-BOSS_EXTRUDE11_DEPTH)


solid = Compound([body_2.part, body_3.part, body_4.part, body_5.part, body_6.part, body_7.part, body_8.part, body_10.part, body_11.part, body_12.part, body_14.part, body_15.part])
